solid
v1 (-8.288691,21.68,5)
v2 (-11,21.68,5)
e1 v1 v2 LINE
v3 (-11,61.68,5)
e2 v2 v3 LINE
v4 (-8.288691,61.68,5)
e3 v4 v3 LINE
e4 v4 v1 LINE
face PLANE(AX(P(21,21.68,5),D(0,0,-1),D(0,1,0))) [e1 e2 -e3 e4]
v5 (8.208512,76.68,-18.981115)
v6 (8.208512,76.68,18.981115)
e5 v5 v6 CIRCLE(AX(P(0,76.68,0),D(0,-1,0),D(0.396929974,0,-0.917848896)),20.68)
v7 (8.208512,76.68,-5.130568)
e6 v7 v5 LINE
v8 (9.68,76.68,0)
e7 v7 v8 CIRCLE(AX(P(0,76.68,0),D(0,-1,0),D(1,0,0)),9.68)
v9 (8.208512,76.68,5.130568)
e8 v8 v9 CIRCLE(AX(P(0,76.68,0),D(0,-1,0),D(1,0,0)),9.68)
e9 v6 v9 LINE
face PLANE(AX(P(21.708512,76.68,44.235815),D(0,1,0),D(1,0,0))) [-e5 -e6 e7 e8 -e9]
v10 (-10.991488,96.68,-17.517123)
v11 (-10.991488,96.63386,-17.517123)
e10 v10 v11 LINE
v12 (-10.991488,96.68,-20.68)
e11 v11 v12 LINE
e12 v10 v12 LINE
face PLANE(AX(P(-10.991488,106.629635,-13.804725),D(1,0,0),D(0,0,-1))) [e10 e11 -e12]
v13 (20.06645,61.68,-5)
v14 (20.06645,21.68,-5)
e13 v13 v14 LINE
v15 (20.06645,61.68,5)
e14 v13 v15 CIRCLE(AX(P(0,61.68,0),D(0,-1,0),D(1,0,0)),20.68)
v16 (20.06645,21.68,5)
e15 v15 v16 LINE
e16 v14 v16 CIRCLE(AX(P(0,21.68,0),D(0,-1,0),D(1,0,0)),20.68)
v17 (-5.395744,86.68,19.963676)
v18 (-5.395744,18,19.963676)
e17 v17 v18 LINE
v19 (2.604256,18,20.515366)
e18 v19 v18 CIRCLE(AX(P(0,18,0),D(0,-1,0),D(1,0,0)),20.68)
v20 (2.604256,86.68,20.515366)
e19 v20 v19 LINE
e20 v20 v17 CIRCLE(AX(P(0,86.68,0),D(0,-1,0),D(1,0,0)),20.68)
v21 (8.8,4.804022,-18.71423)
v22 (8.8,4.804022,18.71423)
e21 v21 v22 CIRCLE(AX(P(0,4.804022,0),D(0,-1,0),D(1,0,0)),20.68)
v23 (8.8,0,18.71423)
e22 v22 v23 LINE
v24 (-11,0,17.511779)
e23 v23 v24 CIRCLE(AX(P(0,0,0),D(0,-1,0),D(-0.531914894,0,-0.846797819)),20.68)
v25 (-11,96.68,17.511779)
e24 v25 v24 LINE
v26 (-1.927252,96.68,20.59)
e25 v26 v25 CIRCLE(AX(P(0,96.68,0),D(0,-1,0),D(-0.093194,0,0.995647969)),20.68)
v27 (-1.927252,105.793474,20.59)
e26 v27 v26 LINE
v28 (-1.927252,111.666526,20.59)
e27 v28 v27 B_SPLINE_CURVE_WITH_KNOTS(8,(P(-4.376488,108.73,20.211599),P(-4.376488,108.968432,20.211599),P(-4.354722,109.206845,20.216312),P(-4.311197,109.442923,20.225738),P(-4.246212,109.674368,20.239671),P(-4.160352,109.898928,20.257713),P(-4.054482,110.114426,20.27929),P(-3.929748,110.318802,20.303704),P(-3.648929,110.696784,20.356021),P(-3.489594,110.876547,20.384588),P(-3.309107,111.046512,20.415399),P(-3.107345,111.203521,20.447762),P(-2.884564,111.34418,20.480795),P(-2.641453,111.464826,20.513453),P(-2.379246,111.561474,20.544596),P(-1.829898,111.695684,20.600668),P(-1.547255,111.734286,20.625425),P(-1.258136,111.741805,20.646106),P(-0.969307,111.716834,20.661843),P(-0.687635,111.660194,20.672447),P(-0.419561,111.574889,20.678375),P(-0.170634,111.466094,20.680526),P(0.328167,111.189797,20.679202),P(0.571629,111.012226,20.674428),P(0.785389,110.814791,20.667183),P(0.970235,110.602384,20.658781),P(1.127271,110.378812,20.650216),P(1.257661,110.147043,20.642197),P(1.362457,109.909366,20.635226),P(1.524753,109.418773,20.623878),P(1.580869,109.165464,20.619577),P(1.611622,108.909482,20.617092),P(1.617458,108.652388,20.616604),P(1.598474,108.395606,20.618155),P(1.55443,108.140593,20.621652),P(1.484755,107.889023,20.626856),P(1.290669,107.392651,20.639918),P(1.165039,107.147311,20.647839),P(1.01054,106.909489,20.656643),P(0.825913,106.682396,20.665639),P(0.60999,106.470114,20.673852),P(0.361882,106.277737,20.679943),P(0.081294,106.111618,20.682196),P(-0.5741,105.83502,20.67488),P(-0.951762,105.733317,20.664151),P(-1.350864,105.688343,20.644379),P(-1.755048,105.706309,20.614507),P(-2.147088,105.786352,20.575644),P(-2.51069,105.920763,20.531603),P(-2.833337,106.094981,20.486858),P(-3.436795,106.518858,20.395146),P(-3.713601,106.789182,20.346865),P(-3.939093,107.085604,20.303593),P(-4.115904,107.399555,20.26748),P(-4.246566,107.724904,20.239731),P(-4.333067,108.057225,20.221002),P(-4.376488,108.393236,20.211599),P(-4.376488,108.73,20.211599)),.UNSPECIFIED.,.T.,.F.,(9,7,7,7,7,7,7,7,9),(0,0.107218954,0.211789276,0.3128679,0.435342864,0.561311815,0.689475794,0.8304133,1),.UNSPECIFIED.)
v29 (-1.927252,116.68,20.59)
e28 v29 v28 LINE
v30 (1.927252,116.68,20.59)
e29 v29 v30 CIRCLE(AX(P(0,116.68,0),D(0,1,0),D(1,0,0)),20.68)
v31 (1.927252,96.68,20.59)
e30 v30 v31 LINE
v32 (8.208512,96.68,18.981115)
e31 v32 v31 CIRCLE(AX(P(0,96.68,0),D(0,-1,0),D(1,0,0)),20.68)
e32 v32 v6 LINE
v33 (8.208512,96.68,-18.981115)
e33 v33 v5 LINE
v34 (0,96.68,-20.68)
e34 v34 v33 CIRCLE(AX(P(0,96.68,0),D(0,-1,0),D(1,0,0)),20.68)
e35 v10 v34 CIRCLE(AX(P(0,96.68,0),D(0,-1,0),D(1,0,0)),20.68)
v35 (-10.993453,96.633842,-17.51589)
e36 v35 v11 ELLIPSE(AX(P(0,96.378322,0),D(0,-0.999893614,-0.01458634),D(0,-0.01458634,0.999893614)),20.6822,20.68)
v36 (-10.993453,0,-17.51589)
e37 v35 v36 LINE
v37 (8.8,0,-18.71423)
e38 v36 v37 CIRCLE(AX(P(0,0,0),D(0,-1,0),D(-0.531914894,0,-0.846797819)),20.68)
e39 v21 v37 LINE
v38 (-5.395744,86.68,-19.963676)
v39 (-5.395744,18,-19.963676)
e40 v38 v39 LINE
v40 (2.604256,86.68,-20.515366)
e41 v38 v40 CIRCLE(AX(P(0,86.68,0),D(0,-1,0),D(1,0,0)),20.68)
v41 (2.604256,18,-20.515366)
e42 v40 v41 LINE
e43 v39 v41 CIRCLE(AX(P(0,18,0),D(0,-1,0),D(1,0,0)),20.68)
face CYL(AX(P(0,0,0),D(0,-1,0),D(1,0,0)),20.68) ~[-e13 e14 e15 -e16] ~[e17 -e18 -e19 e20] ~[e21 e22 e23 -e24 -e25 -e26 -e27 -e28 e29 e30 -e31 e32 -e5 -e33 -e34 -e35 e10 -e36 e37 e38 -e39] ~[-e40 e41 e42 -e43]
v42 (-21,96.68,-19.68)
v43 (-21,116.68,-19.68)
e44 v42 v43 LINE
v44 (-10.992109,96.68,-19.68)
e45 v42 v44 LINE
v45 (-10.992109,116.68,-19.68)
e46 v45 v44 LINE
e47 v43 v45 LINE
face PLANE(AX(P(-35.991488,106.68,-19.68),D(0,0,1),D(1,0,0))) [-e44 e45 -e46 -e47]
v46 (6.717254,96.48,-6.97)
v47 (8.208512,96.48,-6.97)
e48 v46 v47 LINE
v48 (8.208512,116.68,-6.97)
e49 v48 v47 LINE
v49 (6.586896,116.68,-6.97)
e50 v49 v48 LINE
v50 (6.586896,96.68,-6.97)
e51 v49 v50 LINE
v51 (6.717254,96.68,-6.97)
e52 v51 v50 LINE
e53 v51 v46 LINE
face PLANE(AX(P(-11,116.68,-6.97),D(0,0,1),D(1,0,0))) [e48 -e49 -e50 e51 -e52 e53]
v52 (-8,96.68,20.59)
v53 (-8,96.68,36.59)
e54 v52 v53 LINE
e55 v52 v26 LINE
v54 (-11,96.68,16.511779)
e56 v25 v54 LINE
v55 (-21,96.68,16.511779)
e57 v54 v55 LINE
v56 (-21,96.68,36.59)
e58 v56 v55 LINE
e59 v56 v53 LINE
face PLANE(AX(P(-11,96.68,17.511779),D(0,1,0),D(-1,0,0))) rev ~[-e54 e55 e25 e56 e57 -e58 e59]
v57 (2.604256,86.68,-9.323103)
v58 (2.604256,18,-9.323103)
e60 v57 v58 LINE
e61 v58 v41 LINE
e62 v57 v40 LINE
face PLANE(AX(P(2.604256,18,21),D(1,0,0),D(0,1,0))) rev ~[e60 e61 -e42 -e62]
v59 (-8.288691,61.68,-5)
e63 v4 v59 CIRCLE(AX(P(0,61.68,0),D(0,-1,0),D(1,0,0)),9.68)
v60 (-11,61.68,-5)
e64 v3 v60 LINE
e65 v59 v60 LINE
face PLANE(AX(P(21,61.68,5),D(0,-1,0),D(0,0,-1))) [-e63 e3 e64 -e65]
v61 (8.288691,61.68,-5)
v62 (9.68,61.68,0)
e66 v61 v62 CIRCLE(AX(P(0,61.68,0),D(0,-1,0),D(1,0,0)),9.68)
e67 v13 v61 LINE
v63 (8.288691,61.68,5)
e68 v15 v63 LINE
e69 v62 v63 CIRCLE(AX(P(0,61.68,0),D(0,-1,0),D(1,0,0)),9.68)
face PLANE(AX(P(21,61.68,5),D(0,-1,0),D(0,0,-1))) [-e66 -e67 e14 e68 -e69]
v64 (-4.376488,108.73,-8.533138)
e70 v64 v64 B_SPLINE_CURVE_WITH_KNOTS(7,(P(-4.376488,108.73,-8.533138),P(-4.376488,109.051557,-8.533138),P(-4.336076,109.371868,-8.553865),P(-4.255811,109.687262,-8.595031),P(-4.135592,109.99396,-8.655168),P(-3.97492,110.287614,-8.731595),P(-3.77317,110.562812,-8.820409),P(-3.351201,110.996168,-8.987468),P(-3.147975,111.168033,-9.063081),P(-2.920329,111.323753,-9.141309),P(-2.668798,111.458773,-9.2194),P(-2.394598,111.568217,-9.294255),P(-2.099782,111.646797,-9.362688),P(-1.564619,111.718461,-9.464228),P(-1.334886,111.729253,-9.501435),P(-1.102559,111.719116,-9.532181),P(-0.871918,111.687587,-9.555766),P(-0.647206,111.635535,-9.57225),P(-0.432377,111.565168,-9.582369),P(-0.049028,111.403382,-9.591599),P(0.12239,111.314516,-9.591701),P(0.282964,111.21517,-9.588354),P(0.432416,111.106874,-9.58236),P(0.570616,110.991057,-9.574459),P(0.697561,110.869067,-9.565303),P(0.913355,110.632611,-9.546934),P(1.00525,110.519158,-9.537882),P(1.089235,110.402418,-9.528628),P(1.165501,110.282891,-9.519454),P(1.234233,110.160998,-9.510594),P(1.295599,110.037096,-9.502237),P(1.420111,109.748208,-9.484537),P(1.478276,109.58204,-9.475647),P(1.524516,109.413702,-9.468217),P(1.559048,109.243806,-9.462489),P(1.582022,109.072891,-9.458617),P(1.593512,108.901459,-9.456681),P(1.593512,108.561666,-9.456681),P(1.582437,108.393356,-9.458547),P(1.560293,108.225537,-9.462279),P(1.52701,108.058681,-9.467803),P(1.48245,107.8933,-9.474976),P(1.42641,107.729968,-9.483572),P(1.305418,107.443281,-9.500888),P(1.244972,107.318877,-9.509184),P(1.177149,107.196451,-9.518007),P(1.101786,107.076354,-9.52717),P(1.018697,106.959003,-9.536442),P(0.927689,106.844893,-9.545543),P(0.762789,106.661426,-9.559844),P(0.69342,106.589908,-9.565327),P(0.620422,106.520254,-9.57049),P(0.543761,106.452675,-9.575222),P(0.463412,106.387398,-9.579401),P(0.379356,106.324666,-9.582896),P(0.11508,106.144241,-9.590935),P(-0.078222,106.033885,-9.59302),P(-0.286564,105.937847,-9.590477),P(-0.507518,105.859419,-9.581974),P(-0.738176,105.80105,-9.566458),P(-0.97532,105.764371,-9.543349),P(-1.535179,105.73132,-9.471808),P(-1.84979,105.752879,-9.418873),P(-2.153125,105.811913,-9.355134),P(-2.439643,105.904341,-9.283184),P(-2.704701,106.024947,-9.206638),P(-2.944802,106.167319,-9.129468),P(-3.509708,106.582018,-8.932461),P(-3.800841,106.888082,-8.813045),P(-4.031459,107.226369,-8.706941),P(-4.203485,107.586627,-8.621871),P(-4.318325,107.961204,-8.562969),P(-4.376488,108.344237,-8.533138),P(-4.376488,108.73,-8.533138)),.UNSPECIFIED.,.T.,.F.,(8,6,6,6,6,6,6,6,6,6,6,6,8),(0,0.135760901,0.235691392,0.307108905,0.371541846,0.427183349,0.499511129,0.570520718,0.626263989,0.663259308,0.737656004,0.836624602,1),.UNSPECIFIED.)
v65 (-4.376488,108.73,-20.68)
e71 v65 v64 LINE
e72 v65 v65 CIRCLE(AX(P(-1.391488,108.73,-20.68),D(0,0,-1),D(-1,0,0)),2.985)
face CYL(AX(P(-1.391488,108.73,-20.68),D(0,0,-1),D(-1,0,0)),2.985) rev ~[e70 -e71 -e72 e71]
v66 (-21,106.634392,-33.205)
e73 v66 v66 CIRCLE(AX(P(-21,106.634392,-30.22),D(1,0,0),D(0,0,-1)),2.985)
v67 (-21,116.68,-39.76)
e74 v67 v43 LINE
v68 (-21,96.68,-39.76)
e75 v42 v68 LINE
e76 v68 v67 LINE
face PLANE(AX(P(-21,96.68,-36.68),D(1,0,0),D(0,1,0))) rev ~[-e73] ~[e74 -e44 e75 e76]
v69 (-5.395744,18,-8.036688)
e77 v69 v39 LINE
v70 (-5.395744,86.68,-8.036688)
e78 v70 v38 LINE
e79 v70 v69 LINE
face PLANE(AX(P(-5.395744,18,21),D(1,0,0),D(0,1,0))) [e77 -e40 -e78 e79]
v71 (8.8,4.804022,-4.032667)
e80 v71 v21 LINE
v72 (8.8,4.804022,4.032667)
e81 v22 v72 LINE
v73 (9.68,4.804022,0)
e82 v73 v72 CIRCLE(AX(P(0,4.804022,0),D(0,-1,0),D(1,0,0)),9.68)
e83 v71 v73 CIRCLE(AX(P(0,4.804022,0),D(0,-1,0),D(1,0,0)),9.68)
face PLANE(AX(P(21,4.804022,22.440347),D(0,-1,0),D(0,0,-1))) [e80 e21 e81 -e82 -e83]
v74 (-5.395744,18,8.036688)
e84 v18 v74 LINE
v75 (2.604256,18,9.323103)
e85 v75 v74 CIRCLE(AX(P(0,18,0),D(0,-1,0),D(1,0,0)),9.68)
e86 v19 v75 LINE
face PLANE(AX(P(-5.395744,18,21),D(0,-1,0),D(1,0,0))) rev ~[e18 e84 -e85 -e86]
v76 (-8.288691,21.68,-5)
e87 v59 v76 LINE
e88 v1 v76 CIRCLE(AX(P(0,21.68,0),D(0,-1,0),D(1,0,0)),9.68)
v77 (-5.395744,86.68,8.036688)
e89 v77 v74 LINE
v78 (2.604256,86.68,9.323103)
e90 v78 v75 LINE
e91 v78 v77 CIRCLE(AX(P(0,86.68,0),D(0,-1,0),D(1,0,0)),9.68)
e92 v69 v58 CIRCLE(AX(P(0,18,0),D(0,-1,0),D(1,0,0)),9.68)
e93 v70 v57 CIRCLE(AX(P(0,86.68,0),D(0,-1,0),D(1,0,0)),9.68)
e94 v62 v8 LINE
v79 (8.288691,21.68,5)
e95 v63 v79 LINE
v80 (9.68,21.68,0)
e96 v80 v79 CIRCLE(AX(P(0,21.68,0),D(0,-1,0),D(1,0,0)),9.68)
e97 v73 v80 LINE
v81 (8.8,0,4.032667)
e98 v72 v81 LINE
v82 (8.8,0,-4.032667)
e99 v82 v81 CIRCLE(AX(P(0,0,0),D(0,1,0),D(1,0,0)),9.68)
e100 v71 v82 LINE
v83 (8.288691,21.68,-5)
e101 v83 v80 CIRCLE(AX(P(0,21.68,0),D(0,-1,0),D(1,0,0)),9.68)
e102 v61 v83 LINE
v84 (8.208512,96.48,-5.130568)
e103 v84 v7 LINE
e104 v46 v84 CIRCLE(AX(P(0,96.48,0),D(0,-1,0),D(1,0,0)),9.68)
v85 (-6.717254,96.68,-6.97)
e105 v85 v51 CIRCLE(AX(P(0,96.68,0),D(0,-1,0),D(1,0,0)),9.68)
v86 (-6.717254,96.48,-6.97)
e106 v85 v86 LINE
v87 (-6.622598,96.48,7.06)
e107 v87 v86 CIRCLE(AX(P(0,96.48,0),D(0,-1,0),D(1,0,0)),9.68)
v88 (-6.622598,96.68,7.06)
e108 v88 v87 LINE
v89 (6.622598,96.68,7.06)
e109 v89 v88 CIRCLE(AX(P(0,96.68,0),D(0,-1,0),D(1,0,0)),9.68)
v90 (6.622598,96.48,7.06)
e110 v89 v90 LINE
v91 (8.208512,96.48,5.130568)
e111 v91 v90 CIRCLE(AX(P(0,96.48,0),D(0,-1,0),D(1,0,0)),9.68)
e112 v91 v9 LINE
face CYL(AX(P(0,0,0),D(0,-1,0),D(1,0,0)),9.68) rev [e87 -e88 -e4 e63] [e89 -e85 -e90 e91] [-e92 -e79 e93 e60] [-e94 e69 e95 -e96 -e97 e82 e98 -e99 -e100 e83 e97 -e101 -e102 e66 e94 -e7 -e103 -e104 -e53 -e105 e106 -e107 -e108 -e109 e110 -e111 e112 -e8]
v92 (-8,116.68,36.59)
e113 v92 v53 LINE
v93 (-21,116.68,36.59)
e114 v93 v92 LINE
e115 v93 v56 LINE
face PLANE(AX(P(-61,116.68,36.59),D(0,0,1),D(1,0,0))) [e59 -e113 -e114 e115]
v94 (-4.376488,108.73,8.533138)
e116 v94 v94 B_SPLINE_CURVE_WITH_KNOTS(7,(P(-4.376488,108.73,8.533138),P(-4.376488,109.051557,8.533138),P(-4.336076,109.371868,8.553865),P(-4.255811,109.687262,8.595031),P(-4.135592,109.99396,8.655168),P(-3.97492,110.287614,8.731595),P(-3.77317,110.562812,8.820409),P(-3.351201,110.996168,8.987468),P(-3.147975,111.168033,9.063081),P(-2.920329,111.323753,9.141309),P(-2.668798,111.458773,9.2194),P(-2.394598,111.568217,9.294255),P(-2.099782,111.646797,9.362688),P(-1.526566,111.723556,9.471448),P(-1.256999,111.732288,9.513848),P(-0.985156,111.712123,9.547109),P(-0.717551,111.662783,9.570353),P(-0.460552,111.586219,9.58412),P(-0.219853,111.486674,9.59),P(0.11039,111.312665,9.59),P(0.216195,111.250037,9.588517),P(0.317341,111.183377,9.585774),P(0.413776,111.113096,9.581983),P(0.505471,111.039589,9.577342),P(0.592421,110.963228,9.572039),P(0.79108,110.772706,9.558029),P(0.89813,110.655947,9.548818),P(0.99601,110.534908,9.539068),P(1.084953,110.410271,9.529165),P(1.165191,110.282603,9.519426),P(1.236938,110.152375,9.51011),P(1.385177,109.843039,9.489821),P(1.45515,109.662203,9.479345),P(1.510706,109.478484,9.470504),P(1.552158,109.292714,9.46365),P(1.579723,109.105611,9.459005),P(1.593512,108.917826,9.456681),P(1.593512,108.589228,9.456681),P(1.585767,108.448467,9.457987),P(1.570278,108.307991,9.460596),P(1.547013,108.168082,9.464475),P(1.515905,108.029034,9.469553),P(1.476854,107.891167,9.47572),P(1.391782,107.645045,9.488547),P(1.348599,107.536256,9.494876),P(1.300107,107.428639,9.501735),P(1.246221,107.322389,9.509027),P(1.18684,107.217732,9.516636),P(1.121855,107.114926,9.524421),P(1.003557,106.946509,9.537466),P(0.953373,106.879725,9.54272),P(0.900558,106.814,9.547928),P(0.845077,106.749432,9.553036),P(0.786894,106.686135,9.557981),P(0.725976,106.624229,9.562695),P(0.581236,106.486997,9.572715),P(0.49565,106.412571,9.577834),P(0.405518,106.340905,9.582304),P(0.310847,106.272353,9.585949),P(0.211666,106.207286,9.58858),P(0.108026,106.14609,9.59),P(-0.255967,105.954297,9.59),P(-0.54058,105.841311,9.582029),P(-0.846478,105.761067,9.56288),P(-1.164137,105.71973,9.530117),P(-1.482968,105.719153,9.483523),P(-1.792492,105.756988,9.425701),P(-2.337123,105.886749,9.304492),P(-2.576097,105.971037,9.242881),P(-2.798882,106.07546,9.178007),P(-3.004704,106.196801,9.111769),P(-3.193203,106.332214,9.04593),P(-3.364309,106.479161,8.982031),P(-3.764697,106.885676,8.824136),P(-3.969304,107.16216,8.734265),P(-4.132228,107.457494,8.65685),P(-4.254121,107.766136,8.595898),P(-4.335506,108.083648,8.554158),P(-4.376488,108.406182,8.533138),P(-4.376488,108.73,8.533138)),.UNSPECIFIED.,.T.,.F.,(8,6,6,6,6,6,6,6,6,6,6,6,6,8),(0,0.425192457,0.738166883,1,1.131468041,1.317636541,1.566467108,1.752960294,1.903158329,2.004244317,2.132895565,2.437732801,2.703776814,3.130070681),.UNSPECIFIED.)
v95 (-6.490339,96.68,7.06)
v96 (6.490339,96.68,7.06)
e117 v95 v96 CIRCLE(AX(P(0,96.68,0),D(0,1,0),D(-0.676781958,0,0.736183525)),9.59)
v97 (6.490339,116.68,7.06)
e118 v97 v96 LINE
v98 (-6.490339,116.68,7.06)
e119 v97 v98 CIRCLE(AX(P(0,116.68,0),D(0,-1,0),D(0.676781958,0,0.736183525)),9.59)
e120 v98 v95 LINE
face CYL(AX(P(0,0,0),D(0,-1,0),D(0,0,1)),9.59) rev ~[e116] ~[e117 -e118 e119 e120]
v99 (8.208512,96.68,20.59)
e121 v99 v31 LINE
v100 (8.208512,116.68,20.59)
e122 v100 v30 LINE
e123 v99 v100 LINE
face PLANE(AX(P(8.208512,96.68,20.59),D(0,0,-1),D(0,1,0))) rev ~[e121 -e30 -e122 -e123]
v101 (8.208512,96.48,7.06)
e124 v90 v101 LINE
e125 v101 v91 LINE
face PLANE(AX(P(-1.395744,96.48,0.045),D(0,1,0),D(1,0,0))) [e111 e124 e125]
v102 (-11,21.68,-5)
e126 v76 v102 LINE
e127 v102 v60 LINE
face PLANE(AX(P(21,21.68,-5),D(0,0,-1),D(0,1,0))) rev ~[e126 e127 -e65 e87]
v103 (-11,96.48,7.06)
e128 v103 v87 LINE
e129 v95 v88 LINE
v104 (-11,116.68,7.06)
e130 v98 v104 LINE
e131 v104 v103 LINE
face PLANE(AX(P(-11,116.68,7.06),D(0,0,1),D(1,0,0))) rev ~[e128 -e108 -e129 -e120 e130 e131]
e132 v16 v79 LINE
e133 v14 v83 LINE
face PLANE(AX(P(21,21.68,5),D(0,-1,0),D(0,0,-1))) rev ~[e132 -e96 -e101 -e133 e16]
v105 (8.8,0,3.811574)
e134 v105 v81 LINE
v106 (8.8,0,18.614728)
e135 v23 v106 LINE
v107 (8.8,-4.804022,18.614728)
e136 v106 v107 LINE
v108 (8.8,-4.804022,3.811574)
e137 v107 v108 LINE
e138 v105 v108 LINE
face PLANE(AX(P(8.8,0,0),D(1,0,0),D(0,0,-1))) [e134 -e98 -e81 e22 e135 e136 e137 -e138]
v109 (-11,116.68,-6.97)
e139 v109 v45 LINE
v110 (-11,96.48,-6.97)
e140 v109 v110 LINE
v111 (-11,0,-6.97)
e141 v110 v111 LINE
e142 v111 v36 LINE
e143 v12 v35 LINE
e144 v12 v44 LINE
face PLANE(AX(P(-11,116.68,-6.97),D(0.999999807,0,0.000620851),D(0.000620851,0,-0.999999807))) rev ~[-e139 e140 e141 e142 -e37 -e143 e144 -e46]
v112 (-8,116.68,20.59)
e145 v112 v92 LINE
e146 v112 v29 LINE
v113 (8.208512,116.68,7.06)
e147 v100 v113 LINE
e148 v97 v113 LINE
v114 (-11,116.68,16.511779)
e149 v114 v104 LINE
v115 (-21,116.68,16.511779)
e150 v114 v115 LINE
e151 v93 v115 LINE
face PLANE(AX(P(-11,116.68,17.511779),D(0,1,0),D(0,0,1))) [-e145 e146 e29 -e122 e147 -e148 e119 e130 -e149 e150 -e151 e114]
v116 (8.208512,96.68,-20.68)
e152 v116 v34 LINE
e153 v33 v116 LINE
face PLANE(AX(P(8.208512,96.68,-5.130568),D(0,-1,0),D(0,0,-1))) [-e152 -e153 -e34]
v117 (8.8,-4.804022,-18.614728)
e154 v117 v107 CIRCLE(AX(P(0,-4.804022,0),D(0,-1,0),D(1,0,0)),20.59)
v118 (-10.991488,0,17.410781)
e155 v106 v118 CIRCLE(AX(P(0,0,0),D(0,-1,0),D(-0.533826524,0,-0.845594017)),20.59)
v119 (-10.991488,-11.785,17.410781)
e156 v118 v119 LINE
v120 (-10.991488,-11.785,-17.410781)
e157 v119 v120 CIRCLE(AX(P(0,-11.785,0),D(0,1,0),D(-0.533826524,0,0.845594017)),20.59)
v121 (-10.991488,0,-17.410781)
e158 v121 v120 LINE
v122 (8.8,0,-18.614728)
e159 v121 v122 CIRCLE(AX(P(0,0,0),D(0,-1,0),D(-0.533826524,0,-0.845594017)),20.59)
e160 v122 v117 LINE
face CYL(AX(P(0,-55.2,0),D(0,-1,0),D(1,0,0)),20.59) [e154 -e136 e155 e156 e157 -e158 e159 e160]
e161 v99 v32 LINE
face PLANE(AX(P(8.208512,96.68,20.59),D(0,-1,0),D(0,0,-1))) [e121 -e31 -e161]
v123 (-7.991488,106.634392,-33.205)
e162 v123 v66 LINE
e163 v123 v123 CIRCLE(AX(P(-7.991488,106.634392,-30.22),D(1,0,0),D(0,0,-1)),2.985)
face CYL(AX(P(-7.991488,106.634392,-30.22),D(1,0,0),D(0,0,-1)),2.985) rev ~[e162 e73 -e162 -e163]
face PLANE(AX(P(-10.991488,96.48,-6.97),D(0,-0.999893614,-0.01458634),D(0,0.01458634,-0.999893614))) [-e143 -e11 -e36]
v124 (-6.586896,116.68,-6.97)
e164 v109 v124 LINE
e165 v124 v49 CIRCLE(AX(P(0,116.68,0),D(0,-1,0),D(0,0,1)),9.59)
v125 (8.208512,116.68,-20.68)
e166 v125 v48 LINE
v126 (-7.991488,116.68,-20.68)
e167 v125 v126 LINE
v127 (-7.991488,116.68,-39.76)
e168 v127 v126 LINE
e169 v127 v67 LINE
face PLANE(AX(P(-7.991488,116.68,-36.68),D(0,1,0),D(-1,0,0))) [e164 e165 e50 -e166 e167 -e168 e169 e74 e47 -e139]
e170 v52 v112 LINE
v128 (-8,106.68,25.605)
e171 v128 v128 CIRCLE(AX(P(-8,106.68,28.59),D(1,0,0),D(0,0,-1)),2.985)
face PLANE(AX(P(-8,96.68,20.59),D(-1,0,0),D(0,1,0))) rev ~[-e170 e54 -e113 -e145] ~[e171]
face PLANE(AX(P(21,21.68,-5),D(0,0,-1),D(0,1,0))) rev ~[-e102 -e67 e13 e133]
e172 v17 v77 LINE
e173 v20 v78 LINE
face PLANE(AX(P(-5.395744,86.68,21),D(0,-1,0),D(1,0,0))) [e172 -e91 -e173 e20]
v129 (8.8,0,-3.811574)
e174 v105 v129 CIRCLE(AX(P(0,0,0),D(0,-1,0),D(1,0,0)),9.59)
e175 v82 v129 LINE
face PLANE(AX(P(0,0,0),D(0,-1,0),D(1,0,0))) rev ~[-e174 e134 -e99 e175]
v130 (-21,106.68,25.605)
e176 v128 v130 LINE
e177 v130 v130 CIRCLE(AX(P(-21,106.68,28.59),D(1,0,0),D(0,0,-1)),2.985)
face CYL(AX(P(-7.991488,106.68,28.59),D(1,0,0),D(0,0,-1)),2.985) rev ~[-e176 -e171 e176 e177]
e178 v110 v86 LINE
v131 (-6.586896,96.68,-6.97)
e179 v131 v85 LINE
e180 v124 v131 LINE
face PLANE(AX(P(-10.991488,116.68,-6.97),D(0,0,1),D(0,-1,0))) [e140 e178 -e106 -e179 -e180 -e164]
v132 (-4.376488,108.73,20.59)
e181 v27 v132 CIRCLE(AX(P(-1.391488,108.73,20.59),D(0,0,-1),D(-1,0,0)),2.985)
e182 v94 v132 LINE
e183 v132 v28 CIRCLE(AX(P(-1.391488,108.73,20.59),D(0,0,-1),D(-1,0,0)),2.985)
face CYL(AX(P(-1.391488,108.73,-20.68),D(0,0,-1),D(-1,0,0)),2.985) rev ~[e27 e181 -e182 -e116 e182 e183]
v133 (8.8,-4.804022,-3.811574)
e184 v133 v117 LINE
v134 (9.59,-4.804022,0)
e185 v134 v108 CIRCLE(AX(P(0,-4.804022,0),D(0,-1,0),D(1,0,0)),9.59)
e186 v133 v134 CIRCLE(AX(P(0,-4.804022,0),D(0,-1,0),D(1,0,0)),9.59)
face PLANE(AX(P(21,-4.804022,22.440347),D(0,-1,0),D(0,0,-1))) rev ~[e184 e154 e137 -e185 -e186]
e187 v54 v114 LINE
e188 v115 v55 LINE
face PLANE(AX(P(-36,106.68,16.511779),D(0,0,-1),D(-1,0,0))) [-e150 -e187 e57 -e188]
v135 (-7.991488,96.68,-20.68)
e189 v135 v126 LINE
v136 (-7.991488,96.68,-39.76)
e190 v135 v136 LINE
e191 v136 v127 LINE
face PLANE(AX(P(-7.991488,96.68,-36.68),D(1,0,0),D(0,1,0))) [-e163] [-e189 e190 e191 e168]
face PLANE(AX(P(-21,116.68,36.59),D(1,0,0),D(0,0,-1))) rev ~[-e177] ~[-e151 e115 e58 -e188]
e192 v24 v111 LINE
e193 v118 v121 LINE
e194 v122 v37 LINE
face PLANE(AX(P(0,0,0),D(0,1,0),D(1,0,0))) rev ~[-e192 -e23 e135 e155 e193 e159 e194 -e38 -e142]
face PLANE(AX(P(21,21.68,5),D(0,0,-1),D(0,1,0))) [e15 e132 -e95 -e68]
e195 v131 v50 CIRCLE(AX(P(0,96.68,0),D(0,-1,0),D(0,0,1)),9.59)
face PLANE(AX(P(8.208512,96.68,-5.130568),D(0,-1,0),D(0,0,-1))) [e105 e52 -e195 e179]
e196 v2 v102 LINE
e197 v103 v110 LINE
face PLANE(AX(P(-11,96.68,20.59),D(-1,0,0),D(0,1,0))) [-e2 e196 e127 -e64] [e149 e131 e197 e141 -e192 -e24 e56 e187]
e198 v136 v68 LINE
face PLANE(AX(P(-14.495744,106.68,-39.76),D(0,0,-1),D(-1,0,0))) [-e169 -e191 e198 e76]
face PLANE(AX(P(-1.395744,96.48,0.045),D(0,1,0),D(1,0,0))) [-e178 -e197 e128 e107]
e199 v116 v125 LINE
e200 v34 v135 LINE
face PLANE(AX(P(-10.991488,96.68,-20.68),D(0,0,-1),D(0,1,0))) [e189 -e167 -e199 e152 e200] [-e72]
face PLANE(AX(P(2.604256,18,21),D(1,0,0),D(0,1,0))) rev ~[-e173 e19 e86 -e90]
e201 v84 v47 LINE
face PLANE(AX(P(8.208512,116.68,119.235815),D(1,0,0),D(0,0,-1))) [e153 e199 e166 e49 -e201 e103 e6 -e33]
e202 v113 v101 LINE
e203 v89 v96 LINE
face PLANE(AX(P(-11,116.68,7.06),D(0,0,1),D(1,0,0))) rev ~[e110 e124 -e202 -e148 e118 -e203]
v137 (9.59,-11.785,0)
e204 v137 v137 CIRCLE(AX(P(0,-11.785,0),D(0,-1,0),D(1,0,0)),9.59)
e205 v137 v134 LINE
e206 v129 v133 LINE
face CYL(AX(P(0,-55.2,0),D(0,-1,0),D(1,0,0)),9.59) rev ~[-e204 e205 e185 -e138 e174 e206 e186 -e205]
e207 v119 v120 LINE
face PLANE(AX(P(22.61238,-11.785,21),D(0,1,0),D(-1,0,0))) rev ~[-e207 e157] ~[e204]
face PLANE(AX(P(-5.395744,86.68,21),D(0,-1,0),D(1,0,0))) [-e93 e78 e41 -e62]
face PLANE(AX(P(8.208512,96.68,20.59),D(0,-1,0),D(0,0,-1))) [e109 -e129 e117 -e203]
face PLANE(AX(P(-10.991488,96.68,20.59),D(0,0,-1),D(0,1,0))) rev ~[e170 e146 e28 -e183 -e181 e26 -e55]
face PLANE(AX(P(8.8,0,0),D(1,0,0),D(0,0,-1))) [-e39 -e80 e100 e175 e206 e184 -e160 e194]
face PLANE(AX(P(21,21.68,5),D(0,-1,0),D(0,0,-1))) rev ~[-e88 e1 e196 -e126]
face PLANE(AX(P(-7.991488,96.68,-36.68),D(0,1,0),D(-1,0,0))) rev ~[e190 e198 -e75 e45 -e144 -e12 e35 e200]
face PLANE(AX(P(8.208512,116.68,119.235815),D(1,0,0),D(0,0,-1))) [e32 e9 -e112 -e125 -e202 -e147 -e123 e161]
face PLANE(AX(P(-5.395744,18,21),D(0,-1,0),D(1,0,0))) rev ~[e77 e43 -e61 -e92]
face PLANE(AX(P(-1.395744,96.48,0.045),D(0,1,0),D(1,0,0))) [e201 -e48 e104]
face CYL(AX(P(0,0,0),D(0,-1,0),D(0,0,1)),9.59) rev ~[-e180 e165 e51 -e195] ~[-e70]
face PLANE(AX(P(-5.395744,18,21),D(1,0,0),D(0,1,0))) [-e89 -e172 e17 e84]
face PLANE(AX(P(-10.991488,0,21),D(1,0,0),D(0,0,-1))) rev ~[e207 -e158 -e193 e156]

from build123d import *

# Parameters (mm, degrees)
SKETCH_1_R           = 20.68
SKETCH_1_R_2         = 9.68
EXTRUDE_1_DEPTH      = 116.68
SKETCH_11_W          = 27
SKETCH_11_H          = 150
CUT_EXTRUDE_3_DEPTH  = 40
SKETCH_13_W          = 10
SKETCH_13_H          = 128.345013401
CUT_EXTRUDE_7_DEPTH  = 126.614916312
SKETCH_15_W          = 8
SKETCH_15_H          = 68.68
CUT_EXTRUDE_9_DEPTH  = 48
SKETCH_16_W          = 15.549431524
SKETCH_16_H          = 20
SKETCH_16_W_2        = 15.459431524
EXTRUDE_4_DEPTH      = 19.2
SKETCH_17_W          = 19.20851187
SKETCH_17_H          = 14.03
CUT_EXTRUDE_10_DEPTH = 20.2
SKETCH_18_R          = 9.59
CUT_EXTRUDE_11_DEPTH = 121.289430957
SKETCH_21_R          = 2.985
CUT_EXTRUDE_12_DEPTH = 55.2
EXTRUDE_START        = 55.2
SKETCH_24_R          = 20.59
SKETCH_24_R_2        = 9.59
EXTRUDE_2_DEPTH      = 55.2
CUT_EXTRUDE_13_DEPTH = 55.2
SKETCH_26_W          = 10.00851187
SKETCH_26_H          = 41.68
CUT_EXTRUDE_15_DEPTH = 55.2
SKETCH_27_W          = 10
SKETCH_27_H          = 40
CUT_EXTRUDE_16_DEPTH = 55.2
SKETCH_28_W          = 44.880694938
SKETCH_28_H          = 9.608044066
CUT_EXTRUDE_17_DEPTH = 12.2
SKETCH_35_W          = 13.53
SKETCH_35_H          = 20
EXTRUDE_10_DEPTH     = 15
EXTRUDE_11_DEPTH     = 15
SKETCH_37_W          = 9
SKETCH_37_H          = 20
EXTRUDE_12_DEPTH     = 20
SKETCH_38_W          = 9
SKETCH_38_H          = 20
EXTRUDE_13_DEPTH     = 20
SKETCH_42_R          = 2.985
CUT_EXTRUDE_21_DEPTH = 20
CUT_EXTRUDE_23_DEPTH = 138.235841092
SKETCH_45_W          = 3
SKETCH_45_H          = 20
EXTRUDE_14_DEPTH     = 30
SKETCH_46_W          = 3
SKETCH_46_H          = 20
EXTRUDE_15_DEPTH     = 30
SKETCH_47_W          = 33.078221107
SKETCH_47_H          = 20
EXTRUDE_16_DEPTH     = 50
SKETCH_48_W          = 30
SKETCH_48_H          = 20
EXTRUDE_17_DEPTH     = 50
SKETCH_50_W          = 50
SKETCH_50_H          = 20
EXTRUDE_18_DEPTH     = 1
SKETCH_51_W          = 50
SKETCH_51_H          = 20
EXTRUDE_19_DEPTH     = 1
SKETCH_52_W          = 53
SKETCH_52_H          = 14
CUT_EXTRUDE_24_DEPTH = 151.972575738
SKETCH_53_W          = 53
SKETCH_53_H          = 14
CUT_EXTRUDE_25_DEPTH = 151.942387436
SKETCH_54_W          = 40
SKETCH_54_H          = 73.27
CUT_EXTRUDE_26_DEPTH = 147.866192927
SKETCH_56_W          = 13.00851187
SKETCH_56_H          = 20
EXTRUDE_21_DEPTH     = 3.08
SKETCH_57_R          = 2.985
CUT_EXTRUDE_27_DEPTH = 127.558817396


with BuildPart() as part:
    # 草圖1 → 伸長-薄件1 (new body)
    with BuildSketch(Plane(origin=(0, 0, 0), x_dir=(1, 0, 0), z_dir=(0, 1, 0))):
        Circle(SKETCH_1_R)
        Circle(SKETCH_1_R_2, mode=Mode.SUBTRACT)
    extrude(amount=EXTRUDE_1_DEPTH)

    # 草圖11 → 除料-伸長3 (cut)
    with BuildSketch(Plane(origin=(0, 116.68, 0), x_dir=(1, 0, 0), z_dir=(0, 1, 0))):
        with Locations((21.70851187, -44.235815192)):
            Rectangle(SKETCH_11_W, SKETCH_11_H)
    extrude(amount=-CUT_EXTRUDE_3_DEPTH, mode=Mode.SUBTRACT)

    # 草圖13 → 除料-伸長7 (cut, through all)
    with BuildSketch(Plane.XY.offset(21)):
        with Locations((-16, 58.612182466)):
            Rectangle(SKETCH_13_W, SKETCH_13_H)
    extrude(amount=-CUT_EXTRUDE_7_DEPTH, mode=Mode.SUBTRACT)

    # 草圖15 → 除料-伸長9 (cut)
    with BuildSketch(Plane.XY.offset(21)):
        with Locations((-1.395744065, 52.34)):
            Rectangle(SKETCH_15_W, SKETCH_15_H)
    extrude(amount=-CUT_EXTRUDE_9_DEPTH, mode=Mode.SUBTRACT)

    # 草圖16 → 填料-伸長4 (add)
    with BuildSketch(Plane(origin=(8.20851187, 0, 0), x_dir=(0, 0, -1), z_dir=(1, 0, 0))):
        with Locations((12.905284238, 106.68)):
            Rectangle(SKETCH_16_W, SKETCH_16_H)
        with Locations((-12.860284238, 106.68)):
            Rectangle(SKETCH_16_W_2, SKETCH_16_H)
    extrude(amount=-EXTRUDE_4_DEPTH)

    # 草圖17 → 除料-伸長10 (cut)
    with BuildSketch(Plane(origin=(0, 116.68, 0), x_dir=(1, 0, 0), z_dir=(0, 1, 0))):
        with Locations((-1.395744065, -0.045)):
            Rectangle(SKETCH_17_W, SKETCH_17_H)
    extrude(amount=-CUT_EXTRUDE_10_DEPTH, mode=Mode.SUBTRACT)

    # 草圖18 → 除料-伸長11 (cut, through all)
    with BuildSketch(Plane.XZ):
        with Locations(Location((0, 0, 0), (0, 0, 90))):
            Circle(SKETCH_18_R)
    extrude(amount=-CUT_EXTRUDE_11_DEPTH, mode=Mode.SUBTRACT)

    # 草圖21 → 除料-伸長12 (cut)
    with BuildSketch(Plane(origin=(0, 0, -20.68), x_dir=(-1, 0, 0), z_dir=(0, 0, -1))):
        with Locations((1.39148813, 108.73)):
            Circle(SKETCH_21_R)
    extrude(amount=-CUT_EXTRUDE_12_DEPTH, mode=Mode.SUBTRACT)

    # 草圖24 → 伸長-薄件2 (add)
    with BuildSketch(Plane.XZ.offset(EXTRUDE_START)):
        Circle(SKETCH_24_R)
        Circle(SKETCH_24_R_2, mode=Mode.SUBTRACT)
    extrude(amount=-EXTRUDE_2_DEPTH)

    # 草圖25 → 除料-伸長13 (cut)
    with BuildSketch(Plane.XY.offset(21)):
        Polygon((-1.39148813, -11.785), (22.612379708, -11.785), (22.612379708, -63.873337429), (-22.749525245, -63.873337429), (-22.749525245, -11.785), align=None)
    extrude(amount=-CUT_EXTRUDE_13_DEPTH, mode=Mode.SUBTRACT)

    # 草圖26 → 除料-伸長15 (cut)
    with BuildSketch(Plane(origin=(0, 0, 0), x_dir=(1, 0, 0), z_dir=(0, 1, 0))):
        with Locations((-15.995744065, -0.16)):
            Rectangle(SKETCH_26_W, SKETCH_26_H)
    extrude(amount=-CUT_EXTRUDE_15_DEPTH, mode=Mode.SUBTRACT)

    # 草圖27 → 除料-伸長16 (cut)
    with BuildSketch(Plane(origin=(21, 0, 0), x_dir=(0, 0, -1), z_dir=(1, 0, 0))):
        with Locations((0, 41.68)):
            Rectangle(SKETCH_27_W, SKETCH_27_H)
    extrude(amount=-CUT_EXTRUDE_16_DEPTH, mode=Mode.SUBTRACT)

    # 草圖28 → 除料-伸長17 (cut)
    with BuildSketch(Plane(origin=(21, 0, 0), x_dir=(0, 0, -1), z_dir=(1, 0, 0))):
        Rectangle(SKETCH_28_W, SKETCH_28_H)
    extrude(amount=-CUT_EXTRUDE_17_DEPTH, mode=Mode.SUBTRACT)

    # 草圖35 → 填料-伸長10 (add)
    with BuildSketch(Plane.ZY.offset(10.99148813)):
        with Locations((13.825, 106.68)):
            Rectangle(SKETCH_35_W, SKETCH_35_H)
    extrude(amount=EXTRUDE_10_DEPTH)

    # 草圖36 → 填料-伸長11 (add)
    with BuildSketch(Plane.ZY.offset(10.99148813)):
        Polygon((-20.68, 116.68), (-6.97, 116.68), (-6.97, 96.48), (-20.68, 96.68), align=None)
    extrude(amount=EXTRUDE_11_DEPTH)

    # 草圖37 → 填料-伸長12 (add)
    with BuildSketch(Plane.XY.offset(20.59)):
        with Locations((-21.49148813, 106.68)):
            Rectangle(SKETCH_37_W, SKETCH_37_H)
    extrude(amount=EXTRUDE_12_DEPTH)

    # 草圖38 → 填料-伸長13 (add)
    with BuildSketch(Plane(origin=(0, 0, -20.68), x_dir=(-1, 0, 0), z_dir=(0, 0, -1))):
        with Locations((21.49148813, 106.68)):
            Rectangle(SKETCH_38_W, SKETCH_38_H)
    extrude(amount=EXTRUDE_13_DEPTH)

    # 草圖42 → 除料-伸長21 (cut)
    with BuildSketch(Plane(origin=(-16.99148813, 0, 0), x_dir=(0, 0, -1), z_dir=(1, 0, 0))):
        with Locations((30.68, 106.554418142)):
            Circle(SKETCH_42_R)
        with Locations((-30.395640125, 106.68)):
            Circle(SKETCH_42_R)
    extrude(amount=-CUT_EXTRUDE_21_DEPTH, mode=Mode.SUBTRACT)

    # 草圖43 → 除料-伸長23 (cut, through all)
    with BuildSketch(Plane(origin=(0, 116.68, 0), x_dir=(1, 0, 0), z_dir=(0, 1, 0))):
        Polygon((-11, 6.97), (-10.99148813, 20.68), (-10.99148813, 48.096794253), (-28.274756234, 48.096794253), (-28.274756234, -43.270506289), (-11, -43.270506289), align=None)
    extrude(amount=-CUT_EXTRUDE_23_DEPTH, mode=Mode.SUBTRACT)

    # 草圖45 → 填料-伸長14 (add)
    with BuildSketch(Plane.XY.offset(20.59)):
        with Locations((-9.5, 106.68)):
            Rectangle(SKETCH_45_W, SKETCH_45_H)
    extrude(amount=EXTRUDE_14_DEPTH)

    # 草圖46 → 填料-伸長15 (add)
    with BuildSketch(Plane(origin=(0, 0, -20.68), x_dir=(-1, 0, 0), z_dir=(0, 0, -1))):
        with Locations((9.49148813, 106.68)):
            Rectangle(SKETCH_46_W, SKETCH_46_H)
    extrude(amount=EXTRUDE_15_DEPTH)

    # 草圖47 → 填料-伸長16 (add)
    with BuildSketch(Plane.ZY.offset(11)):
        with Locations((34.050889447, 106.68)):
            Rectangle(SKETCH_47_W, SKETCH_47_H)
    extrude(amount=EXTRUDE_16_DEPTH)

    # 草圖48 → 填料-伸長17 (add)
    with BuildSketch(Plane.ZY.offset(10.99148813)):
        with Locations((-35.68, 106.68)):
            Rectangle(SKETCH_48_W, SKETCH_48_H)
    extrude(amount=EXTRUDE_17_DEPTH)

    # 草圖50 → 填料-伸長18 (add)
    with BuildSketch(Plane(origin=(0, 0, 17.511778893), x_dir=(-1, 0, 0), z_dir=(0, 0, -1))):
        with Locations((36, 106.68)):
            Rectangle(SKETCH_50_W, SKETCH_50_H)
    extrude(amount=EXTRUDE_18_DEPTH)

    # 草圖51 → 填料-伸長19 (add)
    with BuildSketch(Plane.XY.offset(-20.68)):
        with Locations((-35.99148813, 106.68)):
            Rectangle(SKETCH_51_W, SKETCH_51_H)
    extrude(amount=EXTRUDE_19_DEPTH)

    # 草圖52 → 除料-伸長24 (cut, through all)
    with BuildSketch(Plane(origin=(0, 116.68, 0), x_dir=(1, 0, 0), z_dir=(0, 1, 0))):
        with Locations((-34.49148813, 43.68)):
            Rectangle(SKETCH_52_W, SKETCH_52_H)
    extrude(amount=-CUT_EXTRUDE_24_DEPTH, mode=Mode.SUBTRACT)

    # 草圖53 → 除料-伸長25 (cut, through all)
    with BuildSketch(Plane(origin=(0, 116.68, 0), x_dir=(1, 0, 0), z_dir=(0, 1, 0))):
        with Locations((-34.5, -43.59)):
            Rectangle(SKETCH_53_W, SKETCH_53_H)
    extrude(amount=-CUT_EXTRUDE_25_DEPTH, mode=Mode.SUBTRACT)

    # 草圖54 → 除料-伸長26 (cut, through all)
    with BuildSketch(Plane(origin=(0, 116.68, 0), x_dir=(1, 0, 0), z_dir=(0, 1, 0))):
        with Locations((-41, 0.045)):
            Rectangle(SKETCH_54_W, SKETCH_54_H)
    extrude(amount=-CUT_EXTRUDE_26_DEPTH, mode=Mode.SUBTRACT)

    # 草圖56 → 填料-伸長21 (add)
    with BuildSketch(Plane(origin=(0, 0, -36.68), x_dir=(-1, 0, 0), z_dir=(0, 0, -1))):
        with Locations((14.495744065, 106.68)):
            Rectangle(SKETCH_56_W, SKETCH_56_H)
    extrude(amount=EXTRUDE_21_DEPTH)

    # 草圖57 → 除料-伸長27 (cut, through all)
    with BuildSketch(Plane(origin=(-7.99148813, 0, 0), x_dir=(0, 0, -1), z_dir=(1, 0, 0))):
        with Locations((30.22, 106.634392252)):
            Circle(SKETCH_57_R)
        with Locations((-28.59, 106.68)):
            Circle(SKETCH_57_R)
    extrude(amount=-CUT_EXTRUDE_27_DEPTH, mode=Mode.SUBTRACT)


solid = part.part
